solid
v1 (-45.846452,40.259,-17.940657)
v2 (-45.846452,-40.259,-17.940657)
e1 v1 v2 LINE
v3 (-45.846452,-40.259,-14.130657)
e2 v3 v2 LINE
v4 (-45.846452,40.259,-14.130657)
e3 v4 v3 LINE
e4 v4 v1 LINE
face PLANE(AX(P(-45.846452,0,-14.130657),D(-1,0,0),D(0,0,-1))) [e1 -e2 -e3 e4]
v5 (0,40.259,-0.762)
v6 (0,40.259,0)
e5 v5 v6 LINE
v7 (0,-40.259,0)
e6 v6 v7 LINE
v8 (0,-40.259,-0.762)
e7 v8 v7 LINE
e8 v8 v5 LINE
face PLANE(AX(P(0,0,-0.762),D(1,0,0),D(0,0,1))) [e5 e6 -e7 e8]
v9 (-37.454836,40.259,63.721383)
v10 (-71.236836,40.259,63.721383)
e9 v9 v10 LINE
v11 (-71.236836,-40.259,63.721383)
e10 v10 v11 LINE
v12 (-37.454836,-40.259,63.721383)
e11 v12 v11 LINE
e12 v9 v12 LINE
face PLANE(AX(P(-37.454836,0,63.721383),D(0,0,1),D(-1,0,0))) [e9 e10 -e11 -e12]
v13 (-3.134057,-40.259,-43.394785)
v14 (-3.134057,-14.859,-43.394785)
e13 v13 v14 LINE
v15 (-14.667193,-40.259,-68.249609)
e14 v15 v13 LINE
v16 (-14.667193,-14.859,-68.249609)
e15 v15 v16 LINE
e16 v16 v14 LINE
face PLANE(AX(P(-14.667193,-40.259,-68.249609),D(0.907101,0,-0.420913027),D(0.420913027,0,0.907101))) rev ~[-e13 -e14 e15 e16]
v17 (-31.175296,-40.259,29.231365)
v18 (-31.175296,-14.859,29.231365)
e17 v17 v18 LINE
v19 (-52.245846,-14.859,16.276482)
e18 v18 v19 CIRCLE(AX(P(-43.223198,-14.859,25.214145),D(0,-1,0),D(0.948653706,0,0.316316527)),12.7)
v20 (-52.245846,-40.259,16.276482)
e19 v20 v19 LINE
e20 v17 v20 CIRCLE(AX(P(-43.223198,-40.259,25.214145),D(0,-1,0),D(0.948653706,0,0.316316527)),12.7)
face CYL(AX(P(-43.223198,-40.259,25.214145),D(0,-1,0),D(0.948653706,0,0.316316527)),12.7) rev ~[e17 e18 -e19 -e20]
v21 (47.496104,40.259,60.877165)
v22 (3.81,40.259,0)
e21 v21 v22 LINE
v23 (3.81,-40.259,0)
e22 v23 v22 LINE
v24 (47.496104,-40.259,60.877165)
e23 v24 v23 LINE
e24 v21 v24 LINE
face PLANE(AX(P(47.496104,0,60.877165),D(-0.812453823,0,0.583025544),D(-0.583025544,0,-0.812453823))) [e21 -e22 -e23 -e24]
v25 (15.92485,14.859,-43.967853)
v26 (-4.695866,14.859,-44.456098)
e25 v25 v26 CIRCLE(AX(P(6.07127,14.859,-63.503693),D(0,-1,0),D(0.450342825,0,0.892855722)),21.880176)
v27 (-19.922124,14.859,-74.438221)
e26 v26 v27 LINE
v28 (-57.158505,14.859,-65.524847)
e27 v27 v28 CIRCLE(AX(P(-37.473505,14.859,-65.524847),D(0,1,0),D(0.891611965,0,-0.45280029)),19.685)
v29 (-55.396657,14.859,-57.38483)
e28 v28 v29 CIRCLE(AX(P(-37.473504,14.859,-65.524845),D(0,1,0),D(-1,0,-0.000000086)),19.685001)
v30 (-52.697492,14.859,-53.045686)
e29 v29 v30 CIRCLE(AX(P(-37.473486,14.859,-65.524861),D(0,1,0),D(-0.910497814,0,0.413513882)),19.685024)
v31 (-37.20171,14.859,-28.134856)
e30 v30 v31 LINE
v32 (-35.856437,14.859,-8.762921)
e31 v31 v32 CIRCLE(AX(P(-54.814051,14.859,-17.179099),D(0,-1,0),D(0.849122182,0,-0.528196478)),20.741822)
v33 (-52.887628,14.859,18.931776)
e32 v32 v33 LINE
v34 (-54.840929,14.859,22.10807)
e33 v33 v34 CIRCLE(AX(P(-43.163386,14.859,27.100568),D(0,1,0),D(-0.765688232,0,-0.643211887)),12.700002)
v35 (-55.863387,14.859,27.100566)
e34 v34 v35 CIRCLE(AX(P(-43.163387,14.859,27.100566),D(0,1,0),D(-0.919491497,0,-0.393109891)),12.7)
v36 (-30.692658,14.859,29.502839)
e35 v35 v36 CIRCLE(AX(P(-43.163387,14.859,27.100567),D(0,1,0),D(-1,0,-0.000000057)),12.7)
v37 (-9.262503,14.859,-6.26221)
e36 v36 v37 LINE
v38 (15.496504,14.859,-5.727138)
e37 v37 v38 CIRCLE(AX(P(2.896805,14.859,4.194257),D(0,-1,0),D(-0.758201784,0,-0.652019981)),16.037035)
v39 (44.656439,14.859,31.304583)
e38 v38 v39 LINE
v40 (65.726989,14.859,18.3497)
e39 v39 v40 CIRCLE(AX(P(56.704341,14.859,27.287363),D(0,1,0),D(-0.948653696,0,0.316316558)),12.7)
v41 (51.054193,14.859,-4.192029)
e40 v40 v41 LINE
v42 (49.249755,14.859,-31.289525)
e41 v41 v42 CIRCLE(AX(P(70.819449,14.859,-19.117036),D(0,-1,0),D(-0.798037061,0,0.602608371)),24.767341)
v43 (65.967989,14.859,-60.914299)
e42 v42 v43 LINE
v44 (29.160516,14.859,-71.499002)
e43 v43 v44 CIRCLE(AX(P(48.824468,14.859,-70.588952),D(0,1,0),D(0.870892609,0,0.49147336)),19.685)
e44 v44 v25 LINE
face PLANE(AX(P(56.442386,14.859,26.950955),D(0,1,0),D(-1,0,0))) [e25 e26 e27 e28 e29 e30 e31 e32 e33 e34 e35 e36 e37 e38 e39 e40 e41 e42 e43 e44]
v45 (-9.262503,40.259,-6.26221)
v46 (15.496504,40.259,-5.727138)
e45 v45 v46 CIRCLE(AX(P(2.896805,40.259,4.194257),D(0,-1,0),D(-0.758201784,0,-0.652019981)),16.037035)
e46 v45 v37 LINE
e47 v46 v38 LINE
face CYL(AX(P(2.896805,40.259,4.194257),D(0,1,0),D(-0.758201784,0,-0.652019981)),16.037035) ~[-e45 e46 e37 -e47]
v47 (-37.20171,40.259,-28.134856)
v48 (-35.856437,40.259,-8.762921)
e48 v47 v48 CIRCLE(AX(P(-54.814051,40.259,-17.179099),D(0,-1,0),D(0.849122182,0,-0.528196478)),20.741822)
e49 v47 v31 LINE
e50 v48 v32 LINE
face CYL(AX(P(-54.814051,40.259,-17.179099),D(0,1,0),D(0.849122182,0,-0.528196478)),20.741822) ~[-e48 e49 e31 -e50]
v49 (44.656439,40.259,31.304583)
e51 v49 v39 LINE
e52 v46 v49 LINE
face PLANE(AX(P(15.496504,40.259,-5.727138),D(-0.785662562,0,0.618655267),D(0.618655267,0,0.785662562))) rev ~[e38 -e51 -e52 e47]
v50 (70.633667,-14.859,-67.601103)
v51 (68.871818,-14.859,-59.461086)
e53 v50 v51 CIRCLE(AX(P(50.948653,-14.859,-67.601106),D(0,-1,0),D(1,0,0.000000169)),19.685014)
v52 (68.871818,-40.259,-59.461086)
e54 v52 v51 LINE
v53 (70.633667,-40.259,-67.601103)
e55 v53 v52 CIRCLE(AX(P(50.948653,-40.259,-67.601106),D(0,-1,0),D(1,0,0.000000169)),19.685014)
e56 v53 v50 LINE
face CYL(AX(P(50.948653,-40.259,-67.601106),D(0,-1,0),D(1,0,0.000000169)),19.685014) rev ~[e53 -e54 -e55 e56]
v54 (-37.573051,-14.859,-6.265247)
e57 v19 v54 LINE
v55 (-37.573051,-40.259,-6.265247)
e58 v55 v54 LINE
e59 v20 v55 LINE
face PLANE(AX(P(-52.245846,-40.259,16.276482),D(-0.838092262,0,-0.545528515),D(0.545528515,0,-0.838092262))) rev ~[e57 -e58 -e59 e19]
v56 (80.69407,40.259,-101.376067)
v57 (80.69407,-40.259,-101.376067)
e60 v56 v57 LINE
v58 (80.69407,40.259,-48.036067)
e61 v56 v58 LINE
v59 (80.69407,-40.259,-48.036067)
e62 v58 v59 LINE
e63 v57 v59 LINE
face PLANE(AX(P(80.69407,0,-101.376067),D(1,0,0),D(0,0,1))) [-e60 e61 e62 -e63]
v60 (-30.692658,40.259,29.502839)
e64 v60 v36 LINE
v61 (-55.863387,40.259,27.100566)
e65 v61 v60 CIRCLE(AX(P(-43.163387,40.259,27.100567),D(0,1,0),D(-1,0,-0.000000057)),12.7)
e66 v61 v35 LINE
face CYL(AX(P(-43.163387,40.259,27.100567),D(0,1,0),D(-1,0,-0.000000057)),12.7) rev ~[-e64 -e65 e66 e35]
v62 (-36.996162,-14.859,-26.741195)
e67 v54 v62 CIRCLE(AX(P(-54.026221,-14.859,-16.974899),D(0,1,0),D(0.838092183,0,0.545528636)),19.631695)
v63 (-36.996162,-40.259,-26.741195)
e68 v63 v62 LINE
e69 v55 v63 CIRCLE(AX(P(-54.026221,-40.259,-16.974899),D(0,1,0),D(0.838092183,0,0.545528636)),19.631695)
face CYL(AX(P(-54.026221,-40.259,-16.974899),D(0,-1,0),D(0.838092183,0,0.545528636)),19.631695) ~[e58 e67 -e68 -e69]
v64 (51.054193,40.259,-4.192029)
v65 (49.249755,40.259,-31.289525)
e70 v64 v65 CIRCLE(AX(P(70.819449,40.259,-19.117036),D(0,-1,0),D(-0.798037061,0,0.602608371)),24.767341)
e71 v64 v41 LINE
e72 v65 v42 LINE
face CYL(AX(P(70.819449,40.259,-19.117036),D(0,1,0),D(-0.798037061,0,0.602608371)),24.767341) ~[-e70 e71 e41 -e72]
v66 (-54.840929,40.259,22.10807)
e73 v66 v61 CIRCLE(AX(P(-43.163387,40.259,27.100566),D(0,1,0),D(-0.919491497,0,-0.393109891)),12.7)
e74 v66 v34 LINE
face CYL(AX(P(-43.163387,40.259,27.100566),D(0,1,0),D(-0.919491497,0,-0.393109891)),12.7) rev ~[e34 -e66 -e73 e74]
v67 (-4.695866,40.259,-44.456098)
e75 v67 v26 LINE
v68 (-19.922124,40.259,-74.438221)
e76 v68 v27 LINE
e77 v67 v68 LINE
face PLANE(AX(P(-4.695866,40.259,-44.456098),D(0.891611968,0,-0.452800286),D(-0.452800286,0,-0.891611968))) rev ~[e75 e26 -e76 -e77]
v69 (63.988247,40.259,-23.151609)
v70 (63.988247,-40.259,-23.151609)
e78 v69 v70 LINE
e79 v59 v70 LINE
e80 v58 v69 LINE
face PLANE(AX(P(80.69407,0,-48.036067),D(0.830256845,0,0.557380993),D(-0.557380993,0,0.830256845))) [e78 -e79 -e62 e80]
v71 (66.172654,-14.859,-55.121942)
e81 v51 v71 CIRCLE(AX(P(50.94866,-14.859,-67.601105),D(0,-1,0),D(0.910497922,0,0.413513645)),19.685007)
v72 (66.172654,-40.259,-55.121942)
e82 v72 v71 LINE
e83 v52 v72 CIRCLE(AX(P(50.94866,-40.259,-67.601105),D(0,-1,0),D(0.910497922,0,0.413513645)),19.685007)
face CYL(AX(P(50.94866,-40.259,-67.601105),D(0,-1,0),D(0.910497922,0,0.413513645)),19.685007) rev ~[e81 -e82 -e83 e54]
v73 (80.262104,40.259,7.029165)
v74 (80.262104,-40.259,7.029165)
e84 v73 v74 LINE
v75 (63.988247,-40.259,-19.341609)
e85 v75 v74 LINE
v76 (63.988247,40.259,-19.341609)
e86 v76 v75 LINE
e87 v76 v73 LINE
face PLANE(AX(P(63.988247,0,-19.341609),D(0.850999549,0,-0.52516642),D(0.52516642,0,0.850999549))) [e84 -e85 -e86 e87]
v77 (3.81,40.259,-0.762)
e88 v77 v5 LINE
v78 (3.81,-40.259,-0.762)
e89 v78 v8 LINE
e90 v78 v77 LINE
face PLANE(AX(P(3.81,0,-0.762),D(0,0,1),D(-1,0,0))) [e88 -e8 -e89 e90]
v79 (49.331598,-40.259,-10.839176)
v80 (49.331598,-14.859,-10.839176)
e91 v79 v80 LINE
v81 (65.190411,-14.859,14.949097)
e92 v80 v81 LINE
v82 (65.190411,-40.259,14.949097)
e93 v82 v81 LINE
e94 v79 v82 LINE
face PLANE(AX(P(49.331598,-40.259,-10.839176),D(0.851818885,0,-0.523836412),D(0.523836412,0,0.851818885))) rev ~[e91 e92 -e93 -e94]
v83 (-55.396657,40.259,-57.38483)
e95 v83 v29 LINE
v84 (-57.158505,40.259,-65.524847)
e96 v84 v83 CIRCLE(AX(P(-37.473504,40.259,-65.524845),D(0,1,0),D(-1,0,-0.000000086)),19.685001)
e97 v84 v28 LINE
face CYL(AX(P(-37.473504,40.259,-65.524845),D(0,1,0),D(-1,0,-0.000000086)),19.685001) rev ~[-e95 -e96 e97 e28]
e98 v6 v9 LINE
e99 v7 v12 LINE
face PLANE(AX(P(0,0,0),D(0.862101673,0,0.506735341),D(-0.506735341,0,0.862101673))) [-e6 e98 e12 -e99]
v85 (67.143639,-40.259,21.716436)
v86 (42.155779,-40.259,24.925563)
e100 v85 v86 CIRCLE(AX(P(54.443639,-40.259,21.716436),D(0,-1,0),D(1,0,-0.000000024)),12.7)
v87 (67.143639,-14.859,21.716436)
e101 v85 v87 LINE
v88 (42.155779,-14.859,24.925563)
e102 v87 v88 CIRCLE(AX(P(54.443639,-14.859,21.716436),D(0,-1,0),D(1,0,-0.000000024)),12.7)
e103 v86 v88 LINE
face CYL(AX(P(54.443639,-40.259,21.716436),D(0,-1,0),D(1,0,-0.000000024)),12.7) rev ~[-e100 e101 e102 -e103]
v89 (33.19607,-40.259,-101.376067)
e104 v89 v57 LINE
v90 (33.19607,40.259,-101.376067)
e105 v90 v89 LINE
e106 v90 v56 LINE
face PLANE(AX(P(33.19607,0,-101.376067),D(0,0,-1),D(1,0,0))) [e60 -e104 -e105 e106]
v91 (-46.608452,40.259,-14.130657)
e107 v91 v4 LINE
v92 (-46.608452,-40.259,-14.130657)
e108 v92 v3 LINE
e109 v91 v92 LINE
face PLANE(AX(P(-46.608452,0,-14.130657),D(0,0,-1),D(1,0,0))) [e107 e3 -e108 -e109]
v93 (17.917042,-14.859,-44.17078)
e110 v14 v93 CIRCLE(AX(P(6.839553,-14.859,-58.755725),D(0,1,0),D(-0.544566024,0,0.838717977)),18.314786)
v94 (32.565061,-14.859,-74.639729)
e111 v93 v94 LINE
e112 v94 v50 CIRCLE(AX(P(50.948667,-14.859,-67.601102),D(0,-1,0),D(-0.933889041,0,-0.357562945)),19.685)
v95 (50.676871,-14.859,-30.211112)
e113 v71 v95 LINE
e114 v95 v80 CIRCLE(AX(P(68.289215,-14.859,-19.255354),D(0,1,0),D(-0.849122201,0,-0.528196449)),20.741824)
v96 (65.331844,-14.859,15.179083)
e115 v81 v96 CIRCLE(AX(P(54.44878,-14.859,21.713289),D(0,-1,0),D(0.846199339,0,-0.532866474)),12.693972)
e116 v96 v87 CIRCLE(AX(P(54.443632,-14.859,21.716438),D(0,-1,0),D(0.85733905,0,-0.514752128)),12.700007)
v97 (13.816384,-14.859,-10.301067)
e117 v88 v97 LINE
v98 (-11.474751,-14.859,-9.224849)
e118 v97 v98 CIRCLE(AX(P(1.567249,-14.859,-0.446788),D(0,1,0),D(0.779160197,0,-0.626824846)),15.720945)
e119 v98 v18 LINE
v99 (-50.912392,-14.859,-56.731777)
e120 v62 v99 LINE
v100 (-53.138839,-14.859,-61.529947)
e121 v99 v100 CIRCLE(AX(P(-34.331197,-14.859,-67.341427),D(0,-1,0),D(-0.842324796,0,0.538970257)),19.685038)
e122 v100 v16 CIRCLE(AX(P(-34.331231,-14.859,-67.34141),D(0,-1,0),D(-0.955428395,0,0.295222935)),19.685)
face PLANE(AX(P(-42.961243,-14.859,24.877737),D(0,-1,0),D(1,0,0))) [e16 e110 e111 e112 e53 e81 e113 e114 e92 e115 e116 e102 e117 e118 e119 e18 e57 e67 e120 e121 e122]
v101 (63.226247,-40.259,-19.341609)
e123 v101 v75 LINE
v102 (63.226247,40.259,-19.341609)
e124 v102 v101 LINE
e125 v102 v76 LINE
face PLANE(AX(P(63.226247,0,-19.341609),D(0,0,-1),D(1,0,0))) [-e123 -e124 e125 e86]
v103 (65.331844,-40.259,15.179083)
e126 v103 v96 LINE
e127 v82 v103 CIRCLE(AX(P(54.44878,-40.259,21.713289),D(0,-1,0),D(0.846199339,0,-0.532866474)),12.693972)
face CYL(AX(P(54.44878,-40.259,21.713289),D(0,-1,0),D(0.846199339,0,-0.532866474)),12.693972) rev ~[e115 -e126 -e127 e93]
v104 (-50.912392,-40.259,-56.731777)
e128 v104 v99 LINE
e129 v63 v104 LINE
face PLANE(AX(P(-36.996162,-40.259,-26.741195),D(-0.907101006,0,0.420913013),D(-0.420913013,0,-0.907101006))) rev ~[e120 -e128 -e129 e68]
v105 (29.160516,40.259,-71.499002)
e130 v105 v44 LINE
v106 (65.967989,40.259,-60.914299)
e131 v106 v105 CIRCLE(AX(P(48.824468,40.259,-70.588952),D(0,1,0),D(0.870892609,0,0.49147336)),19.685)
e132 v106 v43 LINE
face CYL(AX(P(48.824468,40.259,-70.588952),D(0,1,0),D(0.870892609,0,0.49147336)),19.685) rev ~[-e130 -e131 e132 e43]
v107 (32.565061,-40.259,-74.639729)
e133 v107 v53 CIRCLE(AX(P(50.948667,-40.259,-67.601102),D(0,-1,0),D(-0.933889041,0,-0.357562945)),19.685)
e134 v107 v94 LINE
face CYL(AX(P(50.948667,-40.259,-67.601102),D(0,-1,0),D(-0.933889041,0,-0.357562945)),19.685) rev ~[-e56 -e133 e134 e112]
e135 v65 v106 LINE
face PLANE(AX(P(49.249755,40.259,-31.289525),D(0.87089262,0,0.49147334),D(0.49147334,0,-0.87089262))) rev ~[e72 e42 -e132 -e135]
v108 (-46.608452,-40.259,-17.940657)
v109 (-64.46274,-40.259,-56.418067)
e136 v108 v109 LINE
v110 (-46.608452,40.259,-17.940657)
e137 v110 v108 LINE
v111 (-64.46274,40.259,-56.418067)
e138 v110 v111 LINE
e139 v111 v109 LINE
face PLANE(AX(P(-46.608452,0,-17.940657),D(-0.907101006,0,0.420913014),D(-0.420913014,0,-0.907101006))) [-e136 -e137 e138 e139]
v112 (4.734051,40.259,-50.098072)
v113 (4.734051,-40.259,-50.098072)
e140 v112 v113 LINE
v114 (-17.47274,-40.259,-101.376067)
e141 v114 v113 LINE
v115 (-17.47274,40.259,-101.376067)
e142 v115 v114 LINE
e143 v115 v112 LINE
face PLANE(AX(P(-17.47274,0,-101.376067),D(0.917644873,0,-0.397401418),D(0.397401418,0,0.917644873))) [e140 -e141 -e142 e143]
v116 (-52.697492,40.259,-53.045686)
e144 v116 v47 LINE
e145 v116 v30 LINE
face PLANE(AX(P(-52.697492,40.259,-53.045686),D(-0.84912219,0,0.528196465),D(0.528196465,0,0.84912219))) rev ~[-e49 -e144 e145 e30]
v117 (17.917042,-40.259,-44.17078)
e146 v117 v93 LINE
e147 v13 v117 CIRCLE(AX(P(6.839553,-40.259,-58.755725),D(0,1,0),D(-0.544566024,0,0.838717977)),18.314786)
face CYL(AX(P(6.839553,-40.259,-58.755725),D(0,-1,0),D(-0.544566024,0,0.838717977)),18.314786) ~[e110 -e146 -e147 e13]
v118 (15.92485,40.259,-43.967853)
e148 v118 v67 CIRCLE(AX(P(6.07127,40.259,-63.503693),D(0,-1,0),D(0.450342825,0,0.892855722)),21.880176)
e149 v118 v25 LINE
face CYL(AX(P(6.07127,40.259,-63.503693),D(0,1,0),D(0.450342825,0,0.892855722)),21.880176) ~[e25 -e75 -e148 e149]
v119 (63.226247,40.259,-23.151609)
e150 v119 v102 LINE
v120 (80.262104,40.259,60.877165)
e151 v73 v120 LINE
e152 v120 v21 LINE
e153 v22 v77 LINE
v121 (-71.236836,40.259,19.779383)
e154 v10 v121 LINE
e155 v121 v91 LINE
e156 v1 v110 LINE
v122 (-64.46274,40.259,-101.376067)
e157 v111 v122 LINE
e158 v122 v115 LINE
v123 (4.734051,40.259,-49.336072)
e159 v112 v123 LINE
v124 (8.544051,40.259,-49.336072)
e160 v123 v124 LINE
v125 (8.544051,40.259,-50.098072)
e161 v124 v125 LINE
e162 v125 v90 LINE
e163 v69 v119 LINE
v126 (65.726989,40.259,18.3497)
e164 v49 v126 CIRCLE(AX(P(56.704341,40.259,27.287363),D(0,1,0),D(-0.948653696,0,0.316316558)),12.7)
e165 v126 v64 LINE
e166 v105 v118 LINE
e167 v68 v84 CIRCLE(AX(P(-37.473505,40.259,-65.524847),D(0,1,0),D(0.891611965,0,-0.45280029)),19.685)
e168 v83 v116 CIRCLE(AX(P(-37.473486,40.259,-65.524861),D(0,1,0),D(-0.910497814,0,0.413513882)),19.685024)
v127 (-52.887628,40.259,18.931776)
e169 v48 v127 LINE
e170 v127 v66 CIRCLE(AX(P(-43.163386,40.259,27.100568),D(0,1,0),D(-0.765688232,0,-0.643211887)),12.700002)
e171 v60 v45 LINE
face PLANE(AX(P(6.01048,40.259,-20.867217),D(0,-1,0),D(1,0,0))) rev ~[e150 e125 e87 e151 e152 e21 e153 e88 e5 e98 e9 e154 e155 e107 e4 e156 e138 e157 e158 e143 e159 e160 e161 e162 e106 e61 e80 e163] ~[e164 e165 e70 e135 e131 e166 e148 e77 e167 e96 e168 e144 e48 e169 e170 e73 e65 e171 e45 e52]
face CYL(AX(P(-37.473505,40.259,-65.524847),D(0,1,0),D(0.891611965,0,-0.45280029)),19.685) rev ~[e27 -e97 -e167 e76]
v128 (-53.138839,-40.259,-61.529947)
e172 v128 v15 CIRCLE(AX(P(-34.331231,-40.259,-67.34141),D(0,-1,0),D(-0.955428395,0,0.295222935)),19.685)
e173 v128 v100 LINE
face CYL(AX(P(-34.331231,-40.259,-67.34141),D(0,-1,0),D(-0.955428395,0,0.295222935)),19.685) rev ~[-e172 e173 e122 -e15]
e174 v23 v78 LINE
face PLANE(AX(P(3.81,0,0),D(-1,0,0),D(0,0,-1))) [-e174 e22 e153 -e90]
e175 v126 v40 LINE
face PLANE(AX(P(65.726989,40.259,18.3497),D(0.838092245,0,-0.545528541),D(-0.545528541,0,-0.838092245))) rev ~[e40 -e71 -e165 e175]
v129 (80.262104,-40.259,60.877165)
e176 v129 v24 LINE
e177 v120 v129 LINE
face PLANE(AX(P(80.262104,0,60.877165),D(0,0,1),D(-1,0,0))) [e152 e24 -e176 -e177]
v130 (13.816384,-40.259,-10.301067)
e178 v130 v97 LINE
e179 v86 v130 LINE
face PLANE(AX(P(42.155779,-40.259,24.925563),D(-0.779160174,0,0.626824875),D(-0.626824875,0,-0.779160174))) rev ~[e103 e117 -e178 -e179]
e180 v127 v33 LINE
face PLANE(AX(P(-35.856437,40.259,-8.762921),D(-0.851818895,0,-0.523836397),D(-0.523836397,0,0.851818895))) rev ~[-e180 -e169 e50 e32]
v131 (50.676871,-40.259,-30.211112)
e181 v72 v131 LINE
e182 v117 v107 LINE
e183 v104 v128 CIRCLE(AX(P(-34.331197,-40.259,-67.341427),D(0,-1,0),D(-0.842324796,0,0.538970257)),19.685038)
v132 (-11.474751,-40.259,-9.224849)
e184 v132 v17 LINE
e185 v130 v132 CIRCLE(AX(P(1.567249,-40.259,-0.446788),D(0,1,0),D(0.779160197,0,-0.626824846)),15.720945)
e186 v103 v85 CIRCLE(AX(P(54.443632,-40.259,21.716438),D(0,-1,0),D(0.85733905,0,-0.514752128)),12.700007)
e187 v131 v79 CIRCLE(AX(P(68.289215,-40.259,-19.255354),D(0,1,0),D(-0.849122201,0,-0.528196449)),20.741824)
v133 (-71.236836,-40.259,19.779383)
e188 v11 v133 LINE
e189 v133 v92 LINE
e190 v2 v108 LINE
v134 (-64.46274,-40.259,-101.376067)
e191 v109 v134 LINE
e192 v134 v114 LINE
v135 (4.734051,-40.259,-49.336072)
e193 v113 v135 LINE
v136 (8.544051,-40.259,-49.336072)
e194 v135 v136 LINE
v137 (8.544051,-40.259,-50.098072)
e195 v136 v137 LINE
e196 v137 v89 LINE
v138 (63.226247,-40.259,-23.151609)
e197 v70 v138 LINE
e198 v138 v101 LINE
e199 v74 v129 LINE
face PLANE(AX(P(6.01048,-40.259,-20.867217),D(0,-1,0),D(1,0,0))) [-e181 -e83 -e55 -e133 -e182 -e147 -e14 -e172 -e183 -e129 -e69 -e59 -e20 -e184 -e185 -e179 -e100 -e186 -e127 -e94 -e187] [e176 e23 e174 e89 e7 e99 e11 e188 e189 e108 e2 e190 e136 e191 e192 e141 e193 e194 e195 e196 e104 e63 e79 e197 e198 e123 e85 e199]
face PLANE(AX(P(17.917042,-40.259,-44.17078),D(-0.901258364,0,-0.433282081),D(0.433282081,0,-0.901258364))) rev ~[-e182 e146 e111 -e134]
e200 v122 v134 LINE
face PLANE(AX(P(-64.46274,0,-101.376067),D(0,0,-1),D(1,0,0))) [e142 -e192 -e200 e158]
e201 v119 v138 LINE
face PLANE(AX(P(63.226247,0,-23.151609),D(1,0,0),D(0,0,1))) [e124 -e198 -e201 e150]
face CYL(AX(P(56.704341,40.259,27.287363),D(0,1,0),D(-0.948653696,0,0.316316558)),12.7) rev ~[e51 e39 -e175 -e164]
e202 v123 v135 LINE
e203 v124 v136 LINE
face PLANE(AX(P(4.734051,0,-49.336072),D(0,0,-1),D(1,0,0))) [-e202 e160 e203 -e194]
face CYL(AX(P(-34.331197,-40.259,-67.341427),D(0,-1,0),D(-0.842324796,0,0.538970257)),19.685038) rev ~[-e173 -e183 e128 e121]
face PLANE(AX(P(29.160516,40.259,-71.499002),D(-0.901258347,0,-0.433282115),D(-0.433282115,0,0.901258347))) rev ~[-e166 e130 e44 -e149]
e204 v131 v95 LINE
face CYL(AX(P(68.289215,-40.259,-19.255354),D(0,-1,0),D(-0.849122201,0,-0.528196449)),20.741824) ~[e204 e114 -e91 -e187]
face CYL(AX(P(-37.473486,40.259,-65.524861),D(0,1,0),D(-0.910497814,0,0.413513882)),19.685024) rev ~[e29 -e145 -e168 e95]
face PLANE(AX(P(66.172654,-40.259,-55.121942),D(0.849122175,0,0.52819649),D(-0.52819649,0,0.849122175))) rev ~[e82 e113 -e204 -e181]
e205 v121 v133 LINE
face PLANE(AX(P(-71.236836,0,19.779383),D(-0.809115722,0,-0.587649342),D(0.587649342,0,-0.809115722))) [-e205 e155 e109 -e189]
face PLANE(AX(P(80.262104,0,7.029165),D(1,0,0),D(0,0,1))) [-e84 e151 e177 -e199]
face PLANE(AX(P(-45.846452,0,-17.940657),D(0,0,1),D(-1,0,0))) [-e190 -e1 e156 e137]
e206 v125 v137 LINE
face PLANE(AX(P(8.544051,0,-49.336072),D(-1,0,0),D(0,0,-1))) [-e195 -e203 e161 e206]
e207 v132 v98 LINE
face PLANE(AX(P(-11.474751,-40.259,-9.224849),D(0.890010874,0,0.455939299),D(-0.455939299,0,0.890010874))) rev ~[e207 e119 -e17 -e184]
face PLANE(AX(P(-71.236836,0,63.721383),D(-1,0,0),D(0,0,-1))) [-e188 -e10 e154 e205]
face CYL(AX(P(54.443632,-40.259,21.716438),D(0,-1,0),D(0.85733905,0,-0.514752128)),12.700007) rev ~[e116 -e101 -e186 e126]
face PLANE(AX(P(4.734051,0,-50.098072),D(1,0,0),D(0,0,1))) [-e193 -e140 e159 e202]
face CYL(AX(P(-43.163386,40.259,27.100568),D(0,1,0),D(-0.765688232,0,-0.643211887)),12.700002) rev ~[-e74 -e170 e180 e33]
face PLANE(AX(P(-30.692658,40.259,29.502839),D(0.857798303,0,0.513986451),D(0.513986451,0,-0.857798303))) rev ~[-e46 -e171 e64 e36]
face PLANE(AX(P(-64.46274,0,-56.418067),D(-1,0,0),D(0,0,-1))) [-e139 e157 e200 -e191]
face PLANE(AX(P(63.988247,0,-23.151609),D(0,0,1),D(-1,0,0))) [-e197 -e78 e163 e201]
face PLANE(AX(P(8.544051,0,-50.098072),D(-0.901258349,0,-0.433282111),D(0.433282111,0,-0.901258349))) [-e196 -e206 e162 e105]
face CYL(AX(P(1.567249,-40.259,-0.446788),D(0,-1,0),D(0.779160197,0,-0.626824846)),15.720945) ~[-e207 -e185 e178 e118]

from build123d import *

# Parameters (mm, degrees)
F1_DEPTH = 40.259
F3_DEPTH = 25.4
F5_DEPTH = 25.4


with BuildPart() as f1:
    # F0 (on Front) → F1 (new body, symmetric)
    with BuildSketch(Plane.XZ):
        Polygon((0, -0.762), (0, 0), (-37.454836, 63.721383), (-71.236836, 63.721383), (-71.236836, 19.779383), (-46.608452, -14.130657), (-45.846452, -14.130657), (-45.846452, -17.940657), (-46.608452, -17.940657), (-64.46274, -56.418067), (-64.46274, -101.376067), (-17.47274, -101.376067), (4.734051, -50.098072), (4.734051, -49.336072), (8.544051, -49.336072), (8.544051, -50.098072), (33.19607, -101.376067), (80.69407, -101.376067), (80.69407, -48.036067), (63.988247, -23.151609), (63.226247, -23.151609), (63.226247, -19.341609), (63.988247, -19.341609), (80.262104, 7.029165), (80.262104, 60.877165), (47.496104, 60.877165), (3.81, 0), (3.81, -0.762), align=None)
    extrude(amount=F1_DEPTH, both=True)

    # F2 (on face) → F3 (cut)
    with BuildSketch(Plane.XZ.offset(40.259)):
        with BuildLine():
            ThreePointArc((-52.245846, 16.276482), (-38.390892, 13.469409), (-30.523199, 25.214145))
            ThreePointArc((-30.523199, 25.214145), (-30.687283, 27.249046), (-31.175296, 29.231365))
            ThreePointArc((-31.175296, 29.231365), (-49.874912, 36.032865), (-52.245846, 16.276482))
        make_face()
        with BuildLine():
            ThreePointArc((-31.175296, 29.231365), (-30.687283, 27.249046), (-30.523199, 25.214145))
            ThreePointArc((-30.523199, 25.214145), (-38.390892, 13.469409), (-52.245846, 16.276482))
            Line((-52.245846, 16.276482), (-37.573051, -6.265247))
            ThreePointArc((-37.573051, -6.265247), (-34.402313, -16.422015), (-36.996162, -26.741195))
            Line((-36.996162, -26.741195), (-50.912392, -56.731777))
            ThreePointArc((-50.912392, -56.731777), (-28.804068, -48.448298), (-14.646231, -67.34141))
            ThreePointArc((-14.646231, -67.34141), (-14.651472, -67.795631), (-14.667193, -68.249609))
            Line((-14.667193, -68.249609), (-3.134057, -43.394785))
            ThreePointArc((-3.134057, -43.394785), (7.514222, -40.45337), (17.917042, -44.17078))
            Line((17.917042, -44.17078), (32.565061, -74.639729))
            ThreePointArc((32.565061, -74.639729), (41.062727, -50.578546), (66.172654, -55.121942))
            Line((66.172654, -55.121942), (50.676871, -30.211112))
            ThreePointArc((50.676871, -30.211112), (47.597224, -20.692297), (49.331598, -10.839176))
            Line((49.331598, -10.839176), (65.190411, 14.949097))
            ThreePointArc((65.190411, 14.949097), (49.396243, 10.062519), (42.155779, 24.925563))
            Line((42.155779, 24.925563), (13.816384, -10.301067))
            ThreePointArc((13.816384, -10.301067), (0.898878, -16.153519), (-11.474751, -9.224849))
            Line((-11.474751, -9.224849), (-31.175296, 29.231365))
        make_face()
        with BuildLine():
            ThreePointArc((67.143639, 21.716436), (56.06138, 34.31298), (42.155779, 24.925563))
            ThreePointArc((42.155779, 24.925563), (49.396243, 10.062519), (65.190411, 14.949097))
            Line((65.190411, 14.949097), (65.331844, 15.179083))
            ThreePointArc((65.331844, 15.179083), (66.682311, 18.324549), (67.143639, 21.716436))
        make_face()
        with BuildLine():
            Line((-53.138839, -61.529947), (-50.912392, -56.731777))
            ThreePointArc((-50.912392, -56.731777), (-52.187514, -59.055738), (-53.138839, -61.529947))
        make_face()
        with BuildLine():
            ThreePointArc((-14.646231, -67.34141), (-28.804068, -48.448298), (-50.912392, -56.731777))
            Line((-50.912392, -56.731777), (-53.138839, -61.529947))
            ThreePointArc((-53.138839, -61.529947), (-37.718241, -86.732836), (-14.667193, -68.249609))
            ThreePointArc((-14.667193, -68.249609), (-14.651472, -67.795631), (-14.646231, -67.34141))
        make_face()
        with BuildLine():
            Line((65.331844, 15.179083), (65.190411, 14.949097))
            ThreePointArc((65.190411, 14.949097), (65.261739, 15.063714), (65.331844, 15.179083))
        make_face()
        with BuildLine():
            Line((68.871818, -59.461086), (66.172654, -55.121942))
            ThreePointArc((66.172654, -55.121942), (41.062727, -50.578546), (32.565061, -74.639729))
            ThreePointArc((32.565061, -74.639729), (54.527629, -86.95802), (70.633667, -67.601103))
            ThreePointArc((70.633667, -67.601103), (70.188163, -63.43685), (68.871818, -59.461086))
        make_face()
        with BuildLine():
            ThreePointArc((68.871818, -59.461086), (67.663637, -57.203555), (66.172654, -55.121942))
            Line((66.172654, -55.121942), (68.871818, -59.461086))
        make_face()
    extrude(amount=-F3_DEPTH, mode=Mode.SUBTRACT)

    # F4 (on face) → F5 (cut)
    with BuildSketch(Plane(origin=(0, 40.259, 0), x_dir=(-1, 0, 0), z_dir=(0, 1, 0))):
        with BuildLine():
            ThreePointArc((-65.726989, 18.3497), (-51.872034, 15.542628), (-44.004341, 27.287363))
            ThreePointArc((-44.004341, 27.287363), (-44.168425, 29.322264), (-44.656439, 31.304583))
            ThreePointArc((-44.656439, 31.304583), (-63.356054, 38.106083), (-65.726989, 18.3497))
        make_face()
        with BuildLine():
            ThreePointArc((-44.656439, 31.304583), (-44.168425, 29.322264), (-44.004341, 27.287363))
            ThreePointArc((-44.004341, 27.287363), (-51.872034, 15.542628), (-65.726989, 18.3497))
            Line((-65.726989, 18.3497), (-51.054193, -4.192029))
            ThreePointArc((-51.054193, -4.192029), (-46.106839, -17.471409), (-49.249755, -31.289525))
            Line((-49.249755, -31.289525), (-65.967989, -60.914299))
            ThreePointArc((-65.967989, -60.914299), (-43.823018, -51.54992), (-29.139468, -70.588952))
            ThreePointArc((-29.139468, -70.588952), (-29.144731, -71.044099), (-29.160516, -71.499002))
            Line((-29.160516, -71.499002), (-15.92485, -43.967853))
            ThreePointArc((-15.92485, -43.967853), (-5.553349, -41.629648), (4.695866, -44.456098))
            Line((4.695866, -44.456098), (19.922124, -74.438221))
            ThreePointArc((19.922124, -74.438221), (26.714122, -49.040464), (52.697492, -53.045686))
            Line((52.697492, -53.045686), (37.20171, -28.134856))
            ThreePointArc((37.20171, -28.134856), (34.122063, -18.616042), (35.856437, -8.762921))
            Line((35.856437, -8.762921), (52.887628, 18.931776))
            ThreePointArc((52.887628, 18.931776), (37.702376, 15.634645), (30.692658, 29.502839))
            Line((30.692658, 29.502839), (9.262503, -6.26221))
            ThreePointArc((9.262503, -6.26221), (-3.243304, -11.839034), (-15.496504, -5.727138))
            Line((-15.496504, -5.727138), (-44.656439, 31.304583))
        make_face()
        with BuildLine():
            ThreePointArc((55.863387, 27.100566), (44.369981, 39.743119), (30.692658, 29.502839))
            ThreePointArc((30.692658, 29.502839), (37.702376, 15.634645), (52.887628, 18.931776))
            Line((52.887628, 18.931776), (54.840929, 22.10807))
            ThreePointArc((54.840929, 22.10807), (55.605147, 24.552506), (55.863387, 27.100566))
        make_face()
        with BuildLine():
            ThreePointArc((-29.139468, -70.588952), (-43.823018, -51.54992), (-65.967989, -60.914299))
            ThreePointArc((-65.967989, -60.914299), (-54.264793, -89.507252), (-29.160516, -71.499002))
            ThreePointArc((-29.160516, -71.499002), (-29.144731, -71.044099), (-29.139468, -70.588952))
        make_face()
        with BuildLine():
            Line((54.840929, 22.10807), (52.887628, 18.931776))
            ThreePointArc((52.887628, 18.931776), (53.981487, 20.447844), (54.840929, 22.10807))
        make_face()
        with BuildLine():
            Line((55.396657, -57.38483), (52.697492, -53.045686))
            ThreePointArc((52.697492, -53.045686), (26.714122, -49.040464), (19.922124, -74.438221))
            ThreePointArc((19.922124, -74.438221), (42.056096, -84.669013), (57.158505, -65.524847))
            ThreePointArc((57.158505, -65.524847), (56.713002, -61.360595), (55.396657, -57.38483))
        make_face()
        with BuildLine():
            ThreePointArc((55.396657, -57.38483), (54.188476, -55.1273), (52.697492, -53.045686))
            Line((52.697492, -53.045686), (55.396657, -57.38483))
        make_face()
    extrude(amount=-F5_DEPTH, mode=Mode.SUBTRACT)


solid = f1.part
